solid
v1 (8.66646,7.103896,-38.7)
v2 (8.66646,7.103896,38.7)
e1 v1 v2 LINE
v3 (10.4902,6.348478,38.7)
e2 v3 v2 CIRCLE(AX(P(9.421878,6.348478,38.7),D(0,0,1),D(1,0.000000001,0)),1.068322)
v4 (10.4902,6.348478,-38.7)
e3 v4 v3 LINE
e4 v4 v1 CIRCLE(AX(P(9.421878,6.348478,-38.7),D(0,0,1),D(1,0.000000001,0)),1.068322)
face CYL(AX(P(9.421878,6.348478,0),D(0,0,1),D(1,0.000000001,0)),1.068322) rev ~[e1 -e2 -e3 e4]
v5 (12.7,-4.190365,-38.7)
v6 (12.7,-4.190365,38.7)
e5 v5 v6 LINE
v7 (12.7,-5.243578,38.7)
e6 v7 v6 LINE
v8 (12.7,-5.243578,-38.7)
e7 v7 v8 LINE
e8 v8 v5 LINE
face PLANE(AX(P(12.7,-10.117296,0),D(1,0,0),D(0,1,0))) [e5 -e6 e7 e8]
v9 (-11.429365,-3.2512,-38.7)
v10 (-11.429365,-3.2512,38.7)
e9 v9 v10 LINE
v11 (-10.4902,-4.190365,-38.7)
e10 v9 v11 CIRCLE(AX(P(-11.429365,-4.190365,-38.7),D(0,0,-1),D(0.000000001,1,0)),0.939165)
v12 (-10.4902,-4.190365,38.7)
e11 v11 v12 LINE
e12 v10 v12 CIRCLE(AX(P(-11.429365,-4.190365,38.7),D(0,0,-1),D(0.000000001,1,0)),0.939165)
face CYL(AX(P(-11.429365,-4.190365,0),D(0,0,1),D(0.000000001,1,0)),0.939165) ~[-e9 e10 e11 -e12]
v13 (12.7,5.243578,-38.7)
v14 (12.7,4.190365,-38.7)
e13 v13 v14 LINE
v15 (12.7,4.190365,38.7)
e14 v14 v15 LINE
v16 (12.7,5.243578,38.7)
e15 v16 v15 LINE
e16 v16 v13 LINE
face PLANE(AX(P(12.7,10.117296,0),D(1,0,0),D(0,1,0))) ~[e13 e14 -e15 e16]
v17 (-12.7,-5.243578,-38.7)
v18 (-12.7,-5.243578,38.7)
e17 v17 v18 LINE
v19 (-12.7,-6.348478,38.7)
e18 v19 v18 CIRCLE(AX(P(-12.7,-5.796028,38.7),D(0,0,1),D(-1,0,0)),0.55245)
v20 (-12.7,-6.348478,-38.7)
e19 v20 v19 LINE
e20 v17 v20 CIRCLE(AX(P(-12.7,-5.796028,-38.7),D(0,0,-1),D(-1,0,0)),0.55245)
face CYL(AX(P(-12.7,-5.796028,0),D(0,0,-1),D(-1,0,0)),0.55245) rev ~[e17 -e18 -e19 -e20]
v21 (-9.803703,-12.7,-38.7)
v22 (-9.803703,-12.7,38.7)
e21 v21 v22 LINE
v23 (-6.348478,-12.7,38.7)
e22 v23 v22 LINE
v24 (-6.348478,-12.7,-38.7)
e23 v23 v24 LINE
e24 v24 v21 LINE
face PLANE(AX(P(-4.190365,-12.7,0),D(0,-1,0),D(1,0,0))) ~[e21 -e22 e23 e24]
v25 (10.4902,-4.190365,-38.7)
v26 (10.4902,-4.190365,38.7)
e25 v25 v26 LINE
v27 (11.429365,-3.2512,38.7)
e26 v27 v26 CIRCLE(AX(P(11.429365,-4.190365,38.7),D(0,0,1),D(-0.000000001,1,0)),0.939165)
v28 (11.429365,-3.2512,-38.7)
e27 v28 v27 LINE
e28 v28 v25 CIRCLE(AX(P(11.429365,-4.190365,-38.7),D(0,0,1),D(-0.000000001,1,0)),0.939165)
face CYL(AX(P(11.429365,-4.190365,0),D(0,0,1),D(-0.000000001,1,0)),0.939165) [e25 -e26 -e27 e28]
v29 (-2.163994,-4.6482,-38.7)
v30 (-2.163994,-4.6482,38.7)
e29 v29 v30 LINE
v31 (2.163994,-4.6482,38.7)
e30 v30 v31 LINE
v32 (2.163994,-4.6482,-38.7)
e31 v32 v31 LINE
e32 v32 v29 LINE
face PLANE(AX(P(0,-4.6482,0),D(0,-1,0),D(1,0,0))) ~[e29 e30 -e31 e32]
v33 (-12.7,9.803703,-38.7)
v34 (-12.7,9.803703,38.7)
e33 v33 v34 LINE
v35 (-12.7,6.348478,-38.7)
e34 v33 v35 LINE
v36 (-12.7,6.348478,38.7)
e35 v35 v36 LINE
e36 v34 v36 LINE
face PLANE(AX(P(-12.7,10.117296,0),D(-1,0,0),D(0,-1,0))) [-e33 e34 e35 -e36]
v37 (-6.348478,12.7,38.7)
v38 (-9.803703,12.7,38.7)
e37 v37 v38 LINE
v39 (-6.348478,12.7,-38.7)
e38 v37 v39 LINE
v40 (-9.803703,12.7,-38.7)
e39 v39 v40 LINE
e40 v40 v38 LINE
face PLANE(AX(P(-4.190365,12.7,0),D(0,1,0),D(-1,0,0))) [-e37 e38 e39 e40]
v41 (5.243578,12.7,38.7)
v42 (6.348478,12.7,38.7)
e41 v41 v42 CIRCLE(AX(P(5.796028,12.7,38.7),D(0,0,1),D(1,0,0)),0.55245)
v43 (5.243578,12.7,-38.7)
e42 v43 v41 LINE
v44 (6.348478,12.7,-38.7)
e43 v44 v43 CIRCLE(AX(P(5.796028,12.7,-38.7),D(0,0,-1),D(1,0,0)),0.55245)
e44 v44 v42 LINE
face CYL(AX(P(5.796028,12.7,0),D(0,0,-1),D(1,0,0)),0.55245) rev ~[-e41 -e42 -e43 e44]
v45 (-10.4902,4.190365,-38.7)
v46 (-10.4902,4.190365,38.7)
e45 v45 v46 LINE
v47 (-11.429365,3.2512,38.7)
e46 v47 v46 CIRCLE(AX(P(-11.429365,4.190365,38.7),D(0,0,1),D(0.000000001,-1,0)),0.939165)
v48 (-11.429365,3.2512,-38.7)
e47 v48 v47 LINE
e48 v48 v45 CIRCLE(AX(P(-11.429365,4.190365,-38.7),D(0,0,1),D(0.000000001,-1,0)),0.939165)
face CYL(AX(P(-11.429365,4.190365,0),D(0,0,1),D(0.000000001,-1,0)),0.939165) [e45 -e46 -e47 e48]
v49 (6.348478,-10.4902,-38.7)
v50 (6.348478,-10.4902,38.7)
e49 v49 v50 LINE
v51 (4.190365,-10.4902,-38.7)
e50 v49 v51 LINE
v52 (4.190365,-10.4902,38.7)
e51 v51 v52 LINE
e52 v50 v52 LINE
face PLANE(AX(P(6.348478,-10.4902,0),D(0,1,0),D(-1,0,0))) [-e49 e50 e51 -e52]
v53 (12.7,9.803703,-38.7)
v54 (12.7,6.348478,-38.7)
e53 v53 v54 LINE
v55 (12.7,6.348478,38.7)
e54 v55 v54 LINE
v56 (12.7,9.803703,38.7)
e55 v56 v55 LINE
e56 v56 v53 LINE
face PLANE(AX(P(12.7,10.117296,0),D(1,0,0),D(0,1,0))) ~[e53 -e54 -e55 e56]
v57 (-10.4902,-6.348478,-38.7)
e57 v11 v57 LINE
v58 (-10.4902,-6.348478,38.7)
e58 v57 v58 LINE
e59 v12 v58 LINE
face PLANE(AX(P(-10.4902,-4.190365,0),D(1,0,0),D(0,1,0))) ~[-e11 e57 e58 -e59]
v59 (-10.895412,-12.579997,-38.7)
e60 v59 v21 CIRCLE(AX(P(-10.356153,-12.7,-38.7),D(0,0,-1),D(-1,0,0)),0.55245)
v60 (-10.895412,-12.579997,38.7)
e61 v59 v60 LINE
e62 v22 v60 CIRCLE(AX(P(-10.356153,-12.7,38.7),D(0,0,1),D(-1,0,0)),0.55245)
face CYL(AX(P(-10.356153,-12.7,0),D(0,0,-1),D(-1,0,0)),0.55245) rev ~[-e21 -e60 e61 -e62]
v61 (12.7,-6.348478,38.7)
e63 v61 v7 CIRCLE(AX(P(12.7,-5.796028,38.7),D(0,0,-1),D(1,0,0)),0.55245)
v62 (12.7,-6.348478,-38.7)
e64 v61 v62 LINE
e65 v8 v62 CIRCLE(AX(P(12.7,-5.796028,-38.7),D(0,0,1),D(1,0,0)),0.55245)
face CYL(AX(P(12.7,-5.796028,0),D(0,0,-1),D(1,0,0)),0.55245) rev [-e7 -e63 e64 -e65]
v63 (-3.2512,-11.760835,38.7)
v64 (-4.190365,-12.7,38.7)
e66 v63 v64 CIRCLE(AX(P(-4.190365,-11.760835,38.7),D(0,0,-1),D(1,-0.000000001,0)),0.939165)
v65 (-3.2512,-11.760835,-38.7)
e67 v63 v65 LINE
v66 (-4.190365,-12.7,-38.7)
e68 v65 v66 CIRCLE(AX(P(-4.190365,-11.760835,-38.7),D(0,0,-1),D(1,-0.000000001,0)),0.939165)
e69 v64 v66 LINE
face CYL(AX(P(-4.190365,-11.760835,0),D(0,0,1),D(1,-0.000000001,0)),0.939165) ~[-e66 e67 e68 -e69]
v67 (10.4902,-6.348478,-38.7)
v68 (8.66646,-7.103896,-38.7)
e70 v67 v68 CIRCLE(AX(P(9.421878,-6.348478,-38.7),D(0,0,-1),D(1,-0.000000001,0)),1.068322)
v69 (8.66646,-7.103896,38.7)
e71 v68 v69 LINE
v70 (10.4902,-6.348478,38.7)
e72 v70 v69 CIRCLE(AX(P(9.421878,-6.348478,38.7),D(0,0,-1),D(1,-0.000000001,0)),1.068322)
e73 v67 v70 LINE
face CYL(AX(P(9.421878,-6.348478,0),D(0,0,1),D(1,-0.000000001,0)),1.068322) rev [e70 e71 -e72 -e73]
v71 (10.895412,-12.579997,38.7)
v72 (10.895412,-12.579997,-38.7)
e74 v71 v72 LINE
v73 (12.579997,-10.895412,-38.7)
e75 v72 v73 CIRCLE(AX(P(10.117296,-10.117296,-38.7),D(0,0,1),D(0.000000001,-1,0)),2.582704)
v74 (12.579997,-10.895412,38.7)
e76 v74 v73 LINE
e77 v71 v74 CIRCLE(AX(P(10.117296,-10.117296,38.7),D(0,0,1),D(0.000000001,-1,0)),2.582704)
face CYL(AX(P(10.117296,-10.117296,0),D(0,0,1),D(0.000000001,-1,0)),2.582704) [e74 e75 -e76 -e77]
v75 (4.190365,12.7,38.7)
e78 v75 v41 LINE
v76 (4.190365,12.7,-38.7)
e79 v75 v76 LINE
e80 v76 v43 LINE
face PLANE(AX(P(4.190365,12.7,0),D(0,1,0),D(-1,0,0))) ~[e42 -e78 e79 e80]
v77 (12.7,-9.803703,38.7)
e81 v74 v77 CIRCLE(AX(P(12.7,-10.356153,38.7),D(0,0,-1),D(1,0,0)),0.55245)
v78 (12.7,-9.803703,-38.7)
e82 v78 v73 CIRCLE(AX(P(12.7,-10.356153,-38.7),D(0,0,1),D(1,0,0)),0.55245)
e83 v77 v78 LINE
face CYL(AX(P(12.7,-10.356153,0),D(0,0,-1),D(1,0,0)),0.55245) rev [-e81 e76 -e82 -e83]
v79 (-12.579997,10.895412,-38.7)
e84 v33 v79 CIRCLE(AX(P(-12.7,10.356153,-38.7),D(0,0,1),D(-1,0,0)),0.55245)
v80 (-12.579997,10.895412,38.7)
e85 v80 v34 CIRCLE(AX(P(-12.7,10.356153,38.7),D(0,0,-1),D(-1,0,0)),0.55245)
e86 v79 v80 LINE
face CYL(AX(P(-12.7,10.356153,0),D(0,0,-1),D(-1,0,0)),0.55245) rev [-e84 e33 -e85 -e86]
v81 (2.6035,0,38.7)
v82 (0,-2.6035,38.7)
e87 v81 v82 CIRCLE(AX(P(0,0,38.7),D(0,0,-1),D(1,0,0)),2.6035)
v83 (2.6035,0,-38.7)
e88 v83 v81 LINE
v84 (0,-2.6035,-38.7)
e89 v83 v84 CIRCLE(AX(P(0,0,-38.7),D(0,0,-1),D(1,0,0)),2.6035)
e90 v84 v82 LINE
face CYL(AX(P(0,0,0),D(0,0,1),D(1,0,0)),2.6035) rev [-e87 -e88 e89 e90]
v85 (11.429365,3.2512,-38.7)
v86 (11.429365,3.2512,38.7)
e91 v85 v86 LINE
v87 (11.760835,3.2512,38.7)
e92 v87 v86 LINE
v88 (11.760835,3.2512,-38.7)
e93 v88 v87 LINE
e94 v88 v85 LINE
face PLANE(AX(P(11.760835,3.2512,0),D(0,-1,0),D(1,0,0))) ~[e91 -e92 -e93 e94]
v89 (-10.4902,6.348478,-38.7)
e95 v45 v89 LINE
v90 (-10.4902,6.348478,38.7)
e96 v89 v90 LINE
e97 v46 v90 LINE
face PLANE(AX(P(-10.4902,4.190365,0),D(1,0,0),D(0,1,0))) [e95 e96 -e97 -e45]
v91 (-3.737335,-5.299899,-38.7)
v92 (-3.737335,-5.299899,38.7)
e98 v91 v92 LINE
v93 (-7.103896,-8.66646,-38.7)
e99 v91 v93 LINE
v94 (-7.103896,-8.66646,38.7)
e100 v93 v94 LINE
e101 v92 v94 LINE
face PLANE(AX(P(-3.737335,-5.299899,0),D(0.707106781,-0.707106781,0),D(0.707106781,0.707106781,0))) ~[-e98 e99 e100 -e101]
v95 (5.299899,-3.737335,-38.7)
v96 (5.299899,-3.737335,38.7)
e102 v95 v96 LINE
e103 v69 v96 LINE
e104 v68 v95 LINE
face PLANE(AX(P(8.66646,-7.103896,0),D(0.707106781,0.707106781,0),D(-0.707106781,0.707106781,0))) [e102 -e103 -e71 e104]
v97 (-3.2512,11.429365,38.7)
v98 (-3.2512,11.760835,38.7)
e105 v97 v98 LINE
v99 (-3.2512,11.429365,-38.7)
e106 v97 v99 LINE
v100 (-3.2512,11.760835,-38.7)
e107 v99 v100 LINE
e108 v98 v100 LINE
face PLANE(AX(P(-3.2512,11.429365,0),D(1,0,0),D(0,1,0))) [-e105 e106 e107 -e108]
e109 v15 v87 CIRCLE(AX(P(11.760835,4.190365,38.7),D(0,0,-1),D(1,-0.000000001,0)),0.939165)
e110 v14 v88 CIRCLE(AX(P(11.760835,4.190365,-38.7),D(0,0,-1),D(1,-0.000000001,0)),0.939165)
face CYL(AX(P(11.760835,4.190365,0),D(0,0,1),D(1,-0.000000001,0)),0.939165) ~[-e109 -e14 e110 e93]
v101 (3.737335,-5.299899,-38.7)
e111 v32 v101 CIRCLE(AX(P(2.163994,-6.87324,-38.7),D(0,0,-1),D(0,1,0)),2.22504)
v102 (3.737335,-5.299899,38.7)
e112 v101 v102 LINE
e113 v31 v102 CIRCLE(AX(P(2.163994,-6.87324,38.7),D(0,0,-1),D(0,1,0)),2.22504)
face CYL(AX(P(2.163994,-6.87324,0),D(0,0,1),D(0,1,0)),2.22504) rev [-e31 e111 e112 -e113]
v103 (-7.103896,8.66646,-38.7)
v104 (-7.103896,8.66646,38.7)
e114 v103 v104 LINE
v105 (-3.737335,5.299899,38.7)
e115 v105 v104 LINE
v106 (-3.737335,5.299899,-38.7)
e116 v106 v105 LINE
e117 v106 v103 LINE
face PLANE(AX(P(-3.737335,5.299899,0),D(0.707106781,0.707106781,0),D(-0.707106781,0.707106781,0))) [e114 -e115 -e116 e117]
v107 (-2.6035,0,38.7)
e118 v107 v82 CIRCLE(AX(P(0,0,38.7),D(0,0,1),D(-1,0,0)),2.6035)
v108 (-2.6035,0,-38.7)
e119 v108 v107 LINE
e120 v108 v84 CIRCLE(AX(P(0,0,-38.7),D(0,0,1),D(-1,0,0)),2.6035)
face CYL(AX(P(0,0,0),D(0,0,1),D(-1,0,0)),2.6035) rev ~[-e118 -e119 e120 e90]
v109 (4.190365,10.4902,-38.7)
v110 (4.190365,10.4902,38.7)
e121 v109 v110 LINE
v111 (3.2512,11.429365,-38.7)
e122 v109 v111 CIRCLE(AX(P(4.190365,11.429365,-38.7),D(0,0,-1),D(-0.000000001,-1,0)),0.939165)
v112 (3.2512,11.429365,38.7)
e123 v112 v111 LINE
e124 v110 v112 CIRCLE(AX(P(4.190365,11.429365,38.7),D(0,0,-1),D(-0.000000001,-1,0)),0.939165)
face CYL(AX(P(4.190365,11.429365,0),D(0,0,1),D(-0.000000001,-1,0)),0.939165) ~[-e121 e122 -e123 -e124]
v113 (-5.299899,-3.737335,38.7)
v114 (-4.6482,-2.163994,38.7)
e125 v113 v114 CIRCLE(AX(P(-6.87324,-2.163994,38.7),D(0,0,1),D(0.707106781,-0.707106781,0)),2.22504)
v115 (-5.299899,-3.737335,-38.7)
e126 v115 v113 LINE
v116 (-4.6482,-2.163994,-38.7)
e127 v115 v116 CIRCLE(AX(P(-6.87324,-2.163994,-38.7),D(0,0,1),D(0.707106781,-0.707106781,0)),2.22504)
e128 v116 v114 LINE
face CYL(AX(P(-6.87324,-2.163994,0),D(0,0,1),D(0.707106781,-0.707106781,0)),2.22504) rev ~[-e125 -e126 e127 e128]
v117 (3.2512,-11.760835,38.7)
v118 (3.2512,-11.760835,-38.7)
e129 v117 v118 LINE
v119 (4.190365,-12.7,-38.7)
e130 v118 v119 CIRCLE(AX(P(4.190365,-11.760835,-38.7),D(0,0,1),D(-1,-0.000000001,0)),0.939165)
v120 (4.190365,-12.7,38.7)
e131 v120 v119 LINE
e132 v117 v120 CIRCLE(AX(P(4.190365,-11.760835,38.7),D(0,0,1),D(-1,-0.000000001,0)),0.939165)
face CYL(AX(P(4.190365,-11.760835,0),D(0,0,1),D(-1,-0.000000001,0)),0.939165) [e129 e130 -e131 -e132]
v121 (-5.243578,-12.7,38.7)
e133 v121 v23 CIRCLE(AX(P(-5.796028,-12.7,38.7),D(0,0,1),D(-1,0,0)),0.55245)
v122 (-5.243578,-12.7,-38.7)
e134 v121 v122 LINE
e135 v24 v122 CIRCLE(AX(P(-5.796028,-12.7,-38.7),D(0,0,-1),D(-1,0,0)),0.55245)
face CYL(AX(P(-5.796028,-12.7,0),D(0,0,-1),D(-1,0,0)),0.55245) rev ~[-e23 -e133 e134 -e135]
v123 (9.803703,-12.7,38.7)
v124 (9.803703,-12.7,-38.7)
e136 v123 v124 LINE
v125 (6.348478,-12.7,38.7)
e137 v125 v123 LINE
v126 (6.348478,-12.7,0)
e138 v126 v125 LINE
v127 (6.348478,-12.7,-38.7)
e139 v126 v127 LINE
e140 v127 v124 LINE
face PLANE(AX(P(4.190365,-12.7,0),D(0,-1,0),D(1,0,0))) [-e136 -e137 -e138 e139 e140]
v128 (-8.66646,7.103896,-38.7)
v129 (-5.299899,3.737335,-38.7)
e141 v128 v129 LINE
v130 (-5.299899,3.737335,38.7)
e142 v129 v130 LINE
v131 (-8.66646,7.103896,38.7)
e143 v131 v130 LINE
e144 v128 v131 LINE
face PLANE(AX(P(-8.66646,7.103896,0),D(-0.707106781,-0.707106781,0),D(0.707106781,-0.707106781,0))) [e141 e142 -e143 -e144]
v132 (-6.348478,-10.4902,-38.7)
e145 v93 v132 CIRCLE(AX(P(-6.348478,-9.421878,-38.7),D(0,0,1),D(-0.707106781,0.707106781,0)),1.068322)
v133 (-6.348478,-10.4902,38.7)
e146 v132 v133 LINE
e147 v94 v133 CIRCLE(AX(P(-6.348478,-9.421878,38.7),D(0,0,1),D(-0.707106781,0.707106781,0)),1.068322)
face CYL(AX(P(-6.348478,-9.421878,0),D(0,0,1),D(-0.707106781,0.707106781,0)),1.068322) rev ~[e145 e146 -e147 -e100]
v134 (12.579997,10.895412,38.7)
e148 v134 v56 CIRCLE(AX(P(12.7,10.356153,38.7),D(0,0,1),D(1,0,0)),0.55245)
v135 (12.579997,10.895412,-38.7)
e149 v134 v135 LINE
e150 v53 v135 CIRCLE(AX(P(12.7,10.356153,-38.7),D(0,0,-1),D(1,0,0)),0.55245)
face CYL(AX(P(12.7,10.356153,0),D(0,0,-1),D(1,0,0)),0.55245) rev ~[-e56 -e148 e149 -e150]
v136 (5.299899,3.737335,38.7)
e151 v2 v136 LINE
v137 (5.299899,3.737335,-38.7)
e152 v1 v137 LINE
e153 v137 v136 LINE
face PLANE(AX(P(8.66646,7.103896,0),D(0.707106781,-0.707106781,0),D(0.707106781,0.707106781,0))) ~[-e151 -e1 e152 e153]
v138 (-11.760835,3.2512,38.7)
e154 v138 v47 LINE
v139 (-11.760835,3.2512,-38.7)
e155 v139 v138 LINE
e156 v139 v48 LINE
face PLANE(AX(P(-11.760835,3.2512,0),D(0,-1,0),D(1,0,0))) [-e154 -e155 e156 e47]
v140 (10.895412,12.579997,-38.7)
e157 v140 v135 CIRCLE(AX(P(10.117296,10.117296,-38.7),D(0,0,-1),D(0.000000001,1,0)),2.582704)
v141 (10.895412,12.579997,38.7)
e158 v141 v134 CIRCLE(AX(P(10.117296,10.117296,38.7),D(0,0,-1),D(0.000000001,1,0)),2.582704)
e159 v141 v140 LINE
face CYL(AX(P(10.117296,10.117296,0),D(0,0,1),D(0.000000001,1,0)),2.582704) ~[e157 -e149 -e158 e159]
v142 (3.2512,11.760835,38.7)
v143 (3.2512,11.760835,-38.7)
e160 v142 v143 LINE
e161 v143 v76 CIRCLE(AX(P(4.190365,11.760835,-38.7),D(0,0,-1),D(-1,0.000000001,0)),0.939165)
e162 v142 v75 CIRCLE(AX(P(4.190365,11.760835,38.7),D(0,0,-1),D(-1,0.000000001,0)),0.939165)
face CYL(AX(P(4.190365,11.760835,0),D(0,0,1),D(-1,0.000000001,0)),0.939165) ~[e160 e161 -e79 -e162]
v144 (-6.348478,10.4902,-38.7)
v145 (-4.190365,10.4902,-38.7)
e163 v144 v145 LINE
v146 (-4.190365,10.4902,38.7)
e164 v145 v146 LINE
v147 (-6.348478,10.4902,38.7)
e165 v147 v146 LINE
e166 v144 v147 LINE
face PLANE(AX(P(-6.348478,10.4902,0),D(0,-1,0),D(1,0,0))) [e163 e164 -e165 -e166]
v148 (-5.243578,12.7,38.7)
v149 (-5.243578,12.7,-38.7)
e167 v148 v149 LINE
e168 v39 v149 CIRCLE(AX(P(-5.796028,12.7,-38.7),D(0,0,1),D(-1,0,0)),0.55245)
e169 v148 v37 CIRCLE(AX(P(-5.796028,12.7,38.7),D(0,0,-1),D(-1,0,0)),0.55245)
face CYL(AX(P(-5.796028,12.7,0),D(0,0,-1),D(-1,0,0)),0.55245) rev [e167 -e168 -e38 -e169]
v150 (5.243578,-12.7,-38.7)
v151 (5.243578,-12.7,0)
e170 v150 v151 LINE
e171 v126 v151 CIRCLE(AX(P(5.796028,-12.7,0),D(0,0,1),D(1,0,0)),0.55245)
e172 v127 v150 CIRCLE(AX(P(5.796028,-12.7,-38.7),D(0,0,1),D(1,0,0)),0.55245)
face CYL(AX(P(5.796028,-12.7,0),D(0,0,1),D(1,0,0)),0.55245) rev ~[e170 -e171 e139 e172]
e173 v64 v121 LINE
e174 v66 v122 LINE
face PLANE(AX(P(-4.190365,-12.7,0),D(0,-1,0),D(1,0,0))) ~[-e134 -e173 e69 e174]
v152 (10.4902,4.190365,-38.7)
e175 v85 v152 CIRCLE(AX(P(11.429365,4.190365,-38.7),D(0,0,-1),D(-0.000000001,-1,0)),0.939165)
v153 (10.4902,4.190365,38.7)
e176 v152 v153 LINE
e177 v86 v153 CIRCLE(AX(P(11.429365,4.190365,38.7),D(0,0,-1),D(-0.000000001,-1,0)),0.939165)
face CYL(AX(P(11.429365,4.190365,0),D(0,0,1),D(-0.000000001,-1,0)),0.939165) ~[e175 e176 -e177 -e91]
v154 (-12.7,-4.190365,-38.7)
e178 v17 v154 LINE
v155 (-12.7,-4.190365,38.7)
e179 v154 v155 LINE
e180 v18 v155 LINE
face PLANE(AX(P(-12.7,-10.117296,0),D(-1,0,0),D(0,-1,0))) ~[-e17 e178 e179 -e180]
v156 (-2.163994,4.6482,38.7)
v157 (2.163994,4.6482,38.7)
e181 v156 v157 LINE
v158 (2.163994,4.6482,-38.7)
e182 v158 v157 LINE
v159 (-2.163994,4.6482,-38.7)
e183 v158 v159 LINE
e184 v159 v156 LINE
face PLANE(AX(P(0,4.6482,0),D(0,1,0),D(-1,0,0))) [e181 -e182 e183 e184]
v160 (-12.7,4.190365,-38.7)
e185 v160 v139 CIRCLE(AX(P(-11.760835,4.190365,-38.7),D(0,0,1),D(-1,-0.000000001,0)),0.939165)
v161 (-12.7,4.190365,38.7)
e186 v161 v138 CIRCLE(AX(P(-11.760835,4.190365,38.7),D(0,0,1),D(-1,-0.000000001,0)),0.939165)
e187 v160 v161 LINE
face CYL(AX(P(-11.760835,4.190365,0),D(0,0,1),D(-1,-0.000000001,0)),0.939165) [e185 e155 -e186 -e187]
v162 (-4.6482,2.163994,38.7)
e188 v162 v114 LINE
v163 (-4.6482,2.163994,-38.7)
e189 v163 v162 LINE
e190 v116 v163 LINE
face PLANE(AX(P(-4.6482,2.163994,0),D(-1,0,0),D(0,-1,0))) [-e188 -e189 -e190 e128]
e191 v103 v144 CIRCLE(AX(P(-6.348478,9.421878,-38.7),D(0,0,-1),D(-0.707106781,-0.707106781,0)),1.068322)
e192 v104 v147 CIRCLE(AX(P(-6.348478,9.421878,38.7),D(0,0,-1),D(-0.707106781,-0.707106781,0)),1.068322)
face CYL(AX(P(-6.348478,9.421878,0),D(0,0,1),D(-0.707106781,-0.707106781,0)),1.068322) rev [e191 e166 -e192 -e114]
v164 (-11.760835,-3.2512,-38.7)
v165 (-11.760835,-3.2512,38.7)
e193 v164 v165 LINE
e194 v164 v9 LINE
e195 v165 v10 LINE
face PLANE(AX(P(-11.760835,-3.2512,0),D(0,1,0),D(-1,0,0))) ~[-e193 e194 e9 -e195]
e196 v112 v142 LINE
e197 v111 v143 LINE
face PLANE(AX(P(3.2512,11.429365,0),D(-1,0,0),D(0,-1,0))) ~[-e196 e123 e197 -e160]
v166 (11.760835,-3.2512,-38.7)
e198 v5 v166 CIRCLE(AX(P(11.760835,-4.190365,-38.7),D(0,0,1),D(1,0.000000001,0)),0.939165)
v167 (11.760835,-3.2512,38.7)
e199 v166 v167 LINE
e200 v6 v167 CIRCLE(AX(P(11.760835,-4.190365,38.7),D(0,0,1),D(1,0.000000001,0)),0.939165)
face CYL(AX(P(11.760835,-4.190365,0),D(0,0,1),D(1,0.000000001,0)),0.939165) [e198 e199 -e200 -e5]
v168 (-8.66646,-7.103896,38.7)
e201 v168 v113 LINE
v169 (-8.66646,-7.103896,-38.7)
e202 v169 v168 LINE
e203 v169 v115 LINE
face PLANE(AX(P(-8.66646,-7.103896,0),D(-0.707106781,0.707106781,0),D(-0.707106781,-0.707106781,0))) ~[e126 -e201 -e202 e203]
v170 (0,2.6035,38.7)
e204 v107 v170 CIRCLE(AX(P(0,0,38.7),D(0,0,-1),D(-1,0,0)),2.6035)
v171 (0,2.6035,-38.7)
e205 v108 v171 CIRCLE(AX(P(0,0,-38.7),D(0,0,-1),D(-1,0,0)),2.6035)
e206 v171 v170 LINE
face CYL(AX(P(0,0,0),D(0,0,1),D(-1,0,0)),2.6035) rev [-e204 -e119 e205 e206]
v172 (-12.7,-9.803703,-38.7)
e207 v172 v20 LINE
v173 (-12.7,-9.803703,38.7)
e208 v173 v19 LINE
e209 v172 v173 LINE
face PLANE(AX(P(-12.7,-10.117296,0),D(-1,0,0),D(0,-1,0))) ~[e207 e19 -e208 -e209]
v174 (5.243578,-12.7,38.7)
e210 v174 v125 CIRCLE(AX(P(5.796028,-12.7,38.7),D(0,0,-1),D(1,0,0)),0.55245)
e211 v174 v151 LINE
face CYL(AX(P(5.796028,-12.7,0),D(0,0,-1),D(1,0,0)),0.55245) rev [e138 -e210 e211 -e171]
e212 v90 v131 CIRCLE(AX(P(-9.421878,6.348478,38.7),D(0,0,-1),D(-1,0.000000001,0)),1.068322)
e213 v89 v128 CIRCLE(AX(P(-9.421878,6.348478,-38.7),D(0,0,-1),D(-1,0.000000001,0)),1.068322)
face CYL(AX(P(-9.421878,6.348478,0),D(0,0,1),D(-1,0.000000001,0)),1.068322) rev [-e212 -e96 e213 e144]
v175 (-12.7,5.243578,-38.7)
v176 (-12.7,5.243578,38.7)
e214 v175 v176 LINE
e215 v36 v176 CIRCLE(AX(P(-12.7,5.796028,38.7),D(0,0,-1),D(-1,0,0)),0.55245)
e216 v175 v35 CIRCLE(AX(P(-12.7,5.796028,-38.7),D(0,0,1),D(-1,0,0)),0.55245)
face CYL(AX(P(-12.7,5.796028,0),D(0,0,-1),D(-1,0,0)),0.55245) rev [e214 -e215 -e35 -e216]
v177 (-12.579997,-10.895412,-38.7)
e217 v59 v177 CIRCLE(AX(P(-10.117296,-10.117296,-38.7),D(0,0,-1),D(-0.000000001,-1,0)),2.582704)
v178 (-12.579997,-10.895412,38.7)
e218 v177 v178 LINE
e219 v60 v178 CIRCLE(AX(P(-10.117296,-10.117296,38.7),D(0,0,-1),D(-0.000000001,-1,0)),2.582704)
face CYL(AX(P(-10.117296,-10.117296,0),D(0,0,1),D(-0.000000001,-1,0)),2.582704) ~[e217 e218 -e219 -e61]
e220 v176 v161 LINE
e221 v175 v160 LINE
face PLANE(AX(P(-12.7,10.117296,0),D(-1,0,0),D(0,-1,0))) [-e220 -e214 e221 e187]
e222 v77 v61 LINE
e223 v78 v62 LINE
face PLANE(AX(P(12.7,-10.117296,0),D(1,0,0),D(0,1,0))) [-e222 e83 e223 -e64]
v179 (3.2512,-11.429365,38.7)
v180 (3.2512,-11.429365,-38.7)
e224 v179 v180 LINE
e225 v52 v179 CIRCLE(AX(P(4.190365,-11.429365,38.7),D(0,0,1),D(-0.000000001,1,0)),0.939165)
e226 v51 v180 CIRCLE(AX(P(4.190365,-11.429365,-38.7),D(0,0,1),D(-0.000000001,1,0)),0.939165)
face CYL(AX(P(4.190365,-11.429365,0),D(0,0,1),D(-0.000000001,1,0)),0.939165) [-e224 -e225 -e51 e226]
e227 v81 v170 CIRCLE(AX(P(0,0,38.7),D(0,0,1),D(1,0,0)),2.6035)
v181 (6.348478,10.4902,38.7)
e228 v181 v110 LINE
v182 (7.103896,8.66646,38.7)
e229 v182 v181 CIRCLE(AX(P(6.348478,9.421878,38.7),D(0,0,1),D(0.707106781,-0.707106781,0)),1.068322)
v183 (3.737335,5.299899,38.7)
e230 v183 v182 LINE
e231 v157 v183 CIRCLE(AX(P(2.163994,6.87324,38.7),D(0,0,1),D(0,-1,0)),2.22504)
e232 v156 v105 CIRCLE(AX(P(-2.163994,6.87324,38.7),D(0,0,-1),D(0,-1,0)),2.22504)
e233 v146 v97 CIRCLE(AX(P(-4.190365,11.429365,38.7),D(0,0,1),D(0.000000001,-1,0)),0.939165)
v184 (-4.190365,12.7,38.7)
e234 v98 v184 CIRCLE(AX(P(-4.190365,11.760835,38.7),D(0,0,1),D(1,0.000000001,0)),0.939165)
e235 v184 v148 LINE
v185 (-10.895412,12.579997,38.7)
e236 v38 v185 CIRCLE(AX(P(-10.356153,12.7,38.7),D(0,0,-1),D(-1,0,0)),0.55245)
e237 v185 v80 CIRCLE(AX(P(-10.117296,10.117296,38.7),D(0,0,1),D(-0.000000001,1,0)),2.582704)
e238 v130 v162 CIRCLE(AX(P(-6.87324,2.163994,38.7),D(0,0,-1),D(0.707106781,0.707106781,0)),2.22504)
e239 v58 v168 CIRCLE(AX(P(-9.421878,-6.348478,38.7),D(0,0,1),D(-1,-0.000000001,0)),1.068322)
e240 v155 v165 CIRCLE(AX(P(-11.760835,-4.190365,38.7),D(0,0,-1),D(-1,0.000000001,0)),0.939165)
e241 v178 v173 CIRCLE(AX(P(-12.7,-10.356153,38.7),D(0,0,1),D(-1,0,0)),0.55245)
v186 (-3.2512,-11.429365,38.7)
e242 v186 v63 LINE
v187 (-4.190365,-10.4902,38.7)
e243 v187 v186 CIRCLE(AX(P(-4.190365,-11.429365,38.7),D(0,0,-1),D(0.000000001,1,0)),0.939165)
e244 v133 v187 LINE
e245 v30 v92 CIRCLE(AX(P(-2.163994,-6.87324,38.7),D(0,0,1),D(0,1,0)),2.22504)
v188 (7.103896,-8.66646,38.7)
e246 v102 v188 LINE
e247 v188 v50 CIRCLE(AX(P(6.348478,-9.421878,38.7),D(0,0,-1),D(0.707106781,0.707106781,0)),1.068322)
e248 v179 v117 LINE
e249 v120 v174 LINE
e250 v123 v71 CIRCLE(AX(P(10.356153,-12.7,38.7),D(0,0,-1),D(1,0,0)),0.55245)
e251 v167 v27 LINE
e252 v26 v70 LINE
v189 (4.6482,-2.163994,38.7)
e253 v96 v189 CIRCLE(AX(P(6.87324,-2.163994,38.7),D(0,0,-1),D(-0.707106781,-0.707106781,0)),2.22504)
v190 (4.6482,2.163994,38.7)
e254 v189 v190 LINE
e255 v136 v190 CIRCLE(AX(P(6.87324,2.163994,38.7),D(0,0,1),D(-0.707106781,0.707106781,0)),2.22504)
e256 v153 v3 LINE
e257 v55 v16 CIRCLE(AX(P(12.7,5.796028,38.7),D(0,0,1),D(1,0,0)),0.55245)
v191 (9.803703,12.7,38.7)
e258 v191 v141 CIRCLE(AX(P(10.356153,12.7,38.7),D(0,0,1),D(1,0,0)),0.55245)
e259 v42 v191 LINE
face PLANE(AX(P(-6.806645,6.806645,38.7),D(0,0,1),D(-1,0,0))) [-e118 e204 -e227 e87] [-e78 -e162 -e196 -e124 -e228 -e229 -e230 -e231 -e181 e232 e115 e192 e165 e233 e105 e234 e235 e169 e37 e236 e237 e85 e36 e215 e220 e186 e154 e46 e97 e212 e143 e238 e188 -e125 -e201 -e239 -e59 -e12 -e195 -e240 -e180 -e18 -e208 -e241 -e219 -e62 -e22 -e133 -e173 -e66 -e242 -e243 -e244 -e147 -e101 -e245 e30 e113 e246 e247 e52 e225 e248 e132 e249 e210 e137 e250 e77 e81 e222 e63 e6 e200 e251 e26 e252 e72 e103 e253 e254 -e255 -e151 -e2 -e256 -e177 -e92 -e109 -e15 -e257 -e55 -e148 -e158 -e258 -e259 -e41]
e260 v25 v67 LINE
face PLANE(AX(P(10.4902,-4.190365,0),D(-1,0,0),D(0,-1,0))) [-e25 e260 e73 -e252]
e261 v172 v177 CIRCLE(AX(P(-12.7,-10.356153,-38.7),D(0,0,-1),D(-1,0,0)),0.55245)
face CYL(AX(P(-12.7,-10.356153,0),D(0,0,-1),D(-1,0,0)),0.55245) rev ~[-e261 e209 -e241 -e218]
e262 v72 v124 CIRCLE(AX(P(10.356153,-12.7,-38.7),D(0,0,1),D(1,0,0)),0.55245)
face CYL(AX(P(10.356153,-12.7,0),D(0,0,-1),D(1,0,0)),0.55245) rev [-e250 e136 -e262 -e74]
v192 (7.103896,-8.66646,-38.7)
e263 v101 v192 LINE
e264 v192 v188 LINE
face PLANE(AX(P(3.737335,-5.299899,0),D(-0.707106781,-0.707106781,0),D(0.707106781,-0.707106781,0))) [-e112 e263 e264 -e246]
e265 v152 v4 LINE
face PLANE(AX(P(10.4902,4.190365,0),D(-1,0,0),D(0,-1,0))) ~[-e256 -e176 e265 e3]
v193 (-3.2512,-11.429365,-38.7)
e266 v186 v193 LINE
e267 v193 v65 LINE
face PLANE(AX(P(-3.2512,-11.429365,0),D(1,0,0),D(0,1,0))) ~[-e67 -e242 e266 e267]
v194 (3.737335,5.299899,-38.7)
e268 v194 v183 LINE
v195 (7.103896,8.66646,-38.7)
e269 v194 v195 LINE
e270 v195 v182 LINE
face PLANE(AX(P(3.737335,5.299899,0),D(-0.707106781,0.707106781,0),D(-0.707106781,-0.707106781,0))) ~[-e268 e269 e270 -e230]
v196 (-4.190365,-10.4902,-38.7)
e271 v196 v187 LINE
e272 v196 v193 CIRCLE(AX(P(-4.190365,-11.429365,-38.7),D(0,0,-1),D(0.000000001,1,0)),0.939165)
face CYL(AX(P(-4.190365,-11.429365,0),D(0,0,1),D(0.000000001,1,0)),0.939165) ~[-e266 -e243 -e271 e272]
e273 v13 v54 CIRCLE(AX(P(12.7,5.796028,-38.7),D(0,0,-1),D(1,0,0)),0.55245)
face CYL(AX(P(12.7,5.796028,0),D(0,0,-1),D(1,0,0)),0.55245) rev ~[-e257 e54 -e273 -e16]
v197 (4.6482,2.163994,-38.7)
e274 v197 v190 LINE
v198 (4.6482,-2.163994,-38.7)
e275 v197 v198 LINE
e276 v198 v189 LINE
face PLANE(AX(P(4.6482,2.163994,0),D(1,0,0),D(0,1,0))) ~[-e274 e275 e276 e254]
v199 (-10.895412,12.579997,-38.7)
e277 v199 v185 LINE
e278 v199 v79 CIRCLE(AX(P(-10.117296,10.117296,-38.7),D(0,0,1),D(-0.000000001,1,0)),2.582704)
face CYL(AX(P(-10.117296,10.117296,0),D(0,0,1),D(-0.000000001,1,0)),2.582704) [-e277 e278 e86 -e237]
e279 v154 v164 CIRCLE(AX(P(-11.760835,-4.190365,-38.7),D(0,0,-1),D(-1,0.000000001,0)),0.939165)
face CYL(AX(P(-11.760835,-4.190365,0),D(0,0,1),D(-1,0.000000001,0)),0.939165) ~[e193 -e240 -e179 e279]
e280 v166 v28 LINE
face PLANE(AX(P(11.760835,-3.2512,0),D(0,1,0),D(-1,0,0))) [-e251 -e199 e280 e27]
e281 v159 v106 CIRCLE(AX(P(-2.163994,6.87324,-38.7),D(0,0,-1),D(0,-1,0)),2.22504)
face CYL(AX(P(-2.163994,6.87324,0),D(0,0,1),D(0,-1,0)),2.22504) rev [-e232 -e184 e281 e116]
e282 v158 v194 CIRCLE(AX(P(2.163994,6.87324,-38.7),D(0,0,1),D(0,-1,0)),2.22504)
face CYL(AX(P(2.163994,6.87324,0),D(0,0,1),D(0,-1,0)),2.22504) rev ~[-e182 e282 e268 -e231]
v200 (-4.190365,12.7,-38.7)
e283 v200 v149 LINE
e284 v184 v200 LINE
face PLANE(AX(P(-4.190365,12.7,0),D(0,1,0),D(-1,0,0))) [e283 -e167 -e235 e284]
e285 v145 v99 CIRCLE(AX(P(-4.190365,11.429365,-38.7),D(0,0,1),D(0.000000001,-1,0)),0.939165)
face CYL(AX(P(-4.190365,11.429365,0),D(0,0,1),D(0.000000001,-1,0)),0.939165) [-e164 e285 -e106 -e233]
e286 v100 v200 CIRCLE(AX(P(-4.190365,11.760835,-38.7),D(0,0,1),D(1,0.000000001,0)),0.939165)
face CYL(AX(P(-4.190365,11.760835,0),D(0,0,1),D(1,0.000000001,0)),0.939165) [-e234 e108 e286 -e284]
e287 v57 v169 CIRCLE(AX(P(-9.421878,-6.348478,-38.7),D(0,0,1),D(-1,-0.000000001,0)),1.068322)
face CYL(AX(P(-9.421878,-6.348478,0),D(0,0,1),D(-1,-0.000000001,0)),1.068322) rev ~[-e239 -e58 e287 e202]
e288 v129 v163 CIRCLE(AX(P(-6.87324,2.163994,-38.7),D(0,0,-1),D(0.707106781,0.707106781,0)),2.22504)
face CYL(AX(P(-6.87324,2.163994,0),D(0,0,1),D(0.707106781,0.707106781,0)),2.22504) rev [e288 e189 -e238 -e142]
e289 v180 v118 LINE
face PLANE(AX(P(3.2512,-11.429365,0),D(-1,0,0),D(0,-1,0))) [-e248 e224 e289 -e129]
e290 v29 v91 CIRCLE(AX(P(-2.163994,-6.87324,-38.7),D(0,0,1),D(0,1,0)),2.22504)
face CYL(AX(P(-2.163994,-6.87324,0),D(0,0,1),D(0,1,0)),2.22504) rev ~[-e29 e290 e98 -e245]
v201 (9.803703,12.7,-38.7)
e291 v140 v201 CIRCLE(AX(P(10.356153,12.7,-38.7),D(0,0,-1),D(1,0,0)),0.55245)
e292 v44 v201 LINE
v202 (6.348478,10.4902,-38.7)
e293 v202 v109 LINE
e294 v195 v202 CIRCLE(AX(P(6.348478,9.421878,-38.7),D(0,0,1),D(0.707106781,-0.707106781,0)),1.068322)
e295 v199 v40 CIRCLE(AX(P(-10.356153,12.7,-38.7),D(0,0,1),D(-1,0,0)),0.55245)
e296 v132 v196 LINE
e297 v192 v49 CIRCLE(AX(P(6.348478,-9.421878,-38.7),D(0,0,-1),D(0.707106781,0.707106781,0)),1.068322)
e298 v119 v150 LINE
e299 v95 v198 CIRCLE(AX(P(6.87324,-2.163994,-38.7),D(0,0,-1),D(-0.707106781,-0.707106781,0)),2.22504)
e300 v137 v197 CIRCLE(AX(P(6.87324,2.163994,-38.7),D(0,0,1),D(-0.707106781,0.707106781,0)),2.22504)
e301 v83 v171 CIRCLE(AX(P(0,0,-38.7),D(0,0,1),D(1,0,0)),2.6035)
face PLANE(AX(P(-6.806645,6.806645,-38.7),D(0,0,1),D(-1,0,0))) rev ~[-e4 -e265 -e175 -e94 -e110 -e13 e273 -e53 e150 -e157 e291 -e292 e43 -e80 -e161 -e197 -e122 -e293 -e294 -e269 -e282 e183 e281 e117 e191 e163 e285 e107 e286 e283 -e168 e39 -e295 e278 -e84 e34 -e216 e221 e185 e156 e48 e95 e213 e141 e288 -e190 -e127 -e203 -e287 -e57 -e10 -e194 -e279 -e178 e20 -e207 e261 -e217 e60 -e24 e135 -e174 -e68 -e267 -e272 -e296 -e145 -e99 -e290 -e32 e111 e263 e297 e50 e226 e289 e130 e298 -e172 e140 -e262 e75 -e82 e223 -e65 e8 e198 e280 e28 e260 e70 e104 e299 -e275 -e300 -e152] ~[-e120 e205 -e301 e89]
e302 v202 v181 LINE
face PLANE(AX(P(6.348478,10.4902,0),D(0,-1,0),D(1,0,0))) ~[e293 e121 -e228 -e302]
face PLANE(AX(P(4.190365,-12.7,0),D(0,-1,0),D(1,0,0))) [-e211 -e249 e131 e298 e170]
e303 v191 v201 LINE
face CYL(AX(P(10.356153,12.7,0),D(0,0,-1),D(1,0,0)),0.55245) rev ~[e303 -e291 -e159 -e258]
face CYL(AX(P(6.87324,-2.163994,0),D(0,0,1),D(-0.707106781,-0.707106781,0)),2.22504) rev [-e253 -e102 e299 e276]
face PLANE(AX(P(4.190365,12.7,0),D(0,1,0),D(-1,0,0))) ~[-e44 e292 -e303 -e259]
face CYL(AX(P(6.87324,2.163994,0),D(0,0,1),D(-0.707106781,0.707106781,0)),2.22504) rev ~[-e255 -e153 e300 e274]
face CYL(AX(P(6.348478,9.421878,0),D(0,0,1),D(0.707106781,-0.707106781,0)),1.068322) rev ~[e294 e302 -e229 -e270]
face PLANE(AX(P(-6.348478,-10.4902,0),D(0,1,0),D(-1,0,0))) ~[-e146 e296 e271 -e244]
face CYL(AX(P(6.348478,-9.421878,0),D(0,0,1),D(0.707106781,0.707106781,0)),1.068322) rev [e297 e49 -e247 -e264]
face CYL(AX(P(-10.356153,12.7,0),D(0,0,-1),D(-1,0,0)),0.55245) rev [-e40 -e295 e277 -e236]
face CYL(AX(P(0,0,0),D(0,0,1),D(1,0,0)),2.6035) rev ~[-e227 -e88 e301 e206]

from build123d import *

# Parameters (mm, degrees)
BOSS_EXTRUDE1_DEPTH     = 38.7
SKETCH5_R               = 0.55245
CUT_EXTRUDE1_DEPTH      = 39.7
CUT_EXTRUDE1_DEPTH_BACK = 39.7


with BuildPart() as part:
    # Sketch4 → Boss-Extrude1 (new body, symmetric)
    with BuildSketch(Plane.XY):
        with BuildLine():
            Line((4.190365, -12.7), (10.11729625, -12.7))
            ThreePointArc((10.11729625, -12.7), (11.943543585, -11.943543585), (12.7, -10.11729625))
            Line((12.7, -10.11729625), (12.7, -4.190365))
            ThreePointArc((12.7, -4.190365), (12.42492494, -3.52627506), (11.760835, -3.2512))
            Line((11.760835, -3.2512), (11.429365, -3.2512))
            ThreePointArc((11.429365, -3.2512), (10.76527506, -3.52627506), (10.4902, -4.190365))
            Line((10.4902, -4.190365), (10.4902, -6.348478019))
            ThreePointArc((10.4902, -6.348478019), (9.830707141, -7.335478831), (8.666460301, -7.103895736))
            Line((8.666460301, -7.103895736), (5.299899128, -3.737334563))
            ThreePointArc((5.299899128, -3.737334563), (4.817571085, -3.015479634), (4.6482, -2.16399369))
            Line((4.6482, -2.16399369), (4.6482, 0))
            Line((4.6482, 0), (2.6035, 0))
            ThreePointArc((2.6035, 0), (1.840952505, -1.840952505), (0, -2.6035))
            Line((0, -2.6035), (0, -4.6482))
            Line((0, -4.6482), (2.16399369, -4.6482))
            ThreePointArc((2.16399369, -4.6482), (3.015479634, -4.817571085), (3.737334563, -5.299899128))
            Line((3.737334563, -5.299899128), (7.103895736, -8.666460301))
            ThreePointArc((7.103895736, -8.666460301), (7.335478831, -9.830707141), (6.348478019, -10.4902))
            Line((6.348478019, -10.4902), (4.190365, -10.4902))
            ThreePointArc((4.190365, -10.4902), (3.52627506, -10.76527506), (3.2512, -11.429365))
            Line((3.2512, -11.429365), (3.2512, -11.760835))
            ThreePointArc((3.2512, -11.760835), (3.52627506, -12.42492494), (4.190365, -12.7))
        make_face()
    extrude(amount=BOSS_EXTRUDE1_DEPTH, both=True)

    # Sketch5 → Cut-Extrude1 (cut, two sides)
    with BuildSketch(Plane.XY) as cut_extrude1_sk:
        with Locations((10.356153152, -12.7)):
            Circle(SKETCH5_R)
        with Locations((5.796028019, -12.7)):
            Circle(SKETCH5_R)
        with Locations((12.7, -10.356153152)):
            Circle(SKETCH5_R)
        with Locations((12.7, -5.796028019)):
            Circle(SKETCH5_R)
    extrude(amount=CUT_EXTRUDE1_DEPTH, mode=Mode.SUBTRACT)
    extrude(cut_extrude1_sk.sketch, amount=-CUT_EXTRUDE1_DEPTH_BACK, mode=Mode.SUBTRACT)

    # Mirror1: part across plane


with BuildPart() as part_1:
    add(part.part)
    add(part.part.mirror(Plane(origin=(0, 0, 0), x_dir=(0, 0, 1), z_dir=(1, 0, 0))))

    # Mirror2: part across plane


with BuildPart() as part_2:
    add(part_1.part)
    add(part_1.part.mirror(Plane.ZX))


solid = part_2.part
